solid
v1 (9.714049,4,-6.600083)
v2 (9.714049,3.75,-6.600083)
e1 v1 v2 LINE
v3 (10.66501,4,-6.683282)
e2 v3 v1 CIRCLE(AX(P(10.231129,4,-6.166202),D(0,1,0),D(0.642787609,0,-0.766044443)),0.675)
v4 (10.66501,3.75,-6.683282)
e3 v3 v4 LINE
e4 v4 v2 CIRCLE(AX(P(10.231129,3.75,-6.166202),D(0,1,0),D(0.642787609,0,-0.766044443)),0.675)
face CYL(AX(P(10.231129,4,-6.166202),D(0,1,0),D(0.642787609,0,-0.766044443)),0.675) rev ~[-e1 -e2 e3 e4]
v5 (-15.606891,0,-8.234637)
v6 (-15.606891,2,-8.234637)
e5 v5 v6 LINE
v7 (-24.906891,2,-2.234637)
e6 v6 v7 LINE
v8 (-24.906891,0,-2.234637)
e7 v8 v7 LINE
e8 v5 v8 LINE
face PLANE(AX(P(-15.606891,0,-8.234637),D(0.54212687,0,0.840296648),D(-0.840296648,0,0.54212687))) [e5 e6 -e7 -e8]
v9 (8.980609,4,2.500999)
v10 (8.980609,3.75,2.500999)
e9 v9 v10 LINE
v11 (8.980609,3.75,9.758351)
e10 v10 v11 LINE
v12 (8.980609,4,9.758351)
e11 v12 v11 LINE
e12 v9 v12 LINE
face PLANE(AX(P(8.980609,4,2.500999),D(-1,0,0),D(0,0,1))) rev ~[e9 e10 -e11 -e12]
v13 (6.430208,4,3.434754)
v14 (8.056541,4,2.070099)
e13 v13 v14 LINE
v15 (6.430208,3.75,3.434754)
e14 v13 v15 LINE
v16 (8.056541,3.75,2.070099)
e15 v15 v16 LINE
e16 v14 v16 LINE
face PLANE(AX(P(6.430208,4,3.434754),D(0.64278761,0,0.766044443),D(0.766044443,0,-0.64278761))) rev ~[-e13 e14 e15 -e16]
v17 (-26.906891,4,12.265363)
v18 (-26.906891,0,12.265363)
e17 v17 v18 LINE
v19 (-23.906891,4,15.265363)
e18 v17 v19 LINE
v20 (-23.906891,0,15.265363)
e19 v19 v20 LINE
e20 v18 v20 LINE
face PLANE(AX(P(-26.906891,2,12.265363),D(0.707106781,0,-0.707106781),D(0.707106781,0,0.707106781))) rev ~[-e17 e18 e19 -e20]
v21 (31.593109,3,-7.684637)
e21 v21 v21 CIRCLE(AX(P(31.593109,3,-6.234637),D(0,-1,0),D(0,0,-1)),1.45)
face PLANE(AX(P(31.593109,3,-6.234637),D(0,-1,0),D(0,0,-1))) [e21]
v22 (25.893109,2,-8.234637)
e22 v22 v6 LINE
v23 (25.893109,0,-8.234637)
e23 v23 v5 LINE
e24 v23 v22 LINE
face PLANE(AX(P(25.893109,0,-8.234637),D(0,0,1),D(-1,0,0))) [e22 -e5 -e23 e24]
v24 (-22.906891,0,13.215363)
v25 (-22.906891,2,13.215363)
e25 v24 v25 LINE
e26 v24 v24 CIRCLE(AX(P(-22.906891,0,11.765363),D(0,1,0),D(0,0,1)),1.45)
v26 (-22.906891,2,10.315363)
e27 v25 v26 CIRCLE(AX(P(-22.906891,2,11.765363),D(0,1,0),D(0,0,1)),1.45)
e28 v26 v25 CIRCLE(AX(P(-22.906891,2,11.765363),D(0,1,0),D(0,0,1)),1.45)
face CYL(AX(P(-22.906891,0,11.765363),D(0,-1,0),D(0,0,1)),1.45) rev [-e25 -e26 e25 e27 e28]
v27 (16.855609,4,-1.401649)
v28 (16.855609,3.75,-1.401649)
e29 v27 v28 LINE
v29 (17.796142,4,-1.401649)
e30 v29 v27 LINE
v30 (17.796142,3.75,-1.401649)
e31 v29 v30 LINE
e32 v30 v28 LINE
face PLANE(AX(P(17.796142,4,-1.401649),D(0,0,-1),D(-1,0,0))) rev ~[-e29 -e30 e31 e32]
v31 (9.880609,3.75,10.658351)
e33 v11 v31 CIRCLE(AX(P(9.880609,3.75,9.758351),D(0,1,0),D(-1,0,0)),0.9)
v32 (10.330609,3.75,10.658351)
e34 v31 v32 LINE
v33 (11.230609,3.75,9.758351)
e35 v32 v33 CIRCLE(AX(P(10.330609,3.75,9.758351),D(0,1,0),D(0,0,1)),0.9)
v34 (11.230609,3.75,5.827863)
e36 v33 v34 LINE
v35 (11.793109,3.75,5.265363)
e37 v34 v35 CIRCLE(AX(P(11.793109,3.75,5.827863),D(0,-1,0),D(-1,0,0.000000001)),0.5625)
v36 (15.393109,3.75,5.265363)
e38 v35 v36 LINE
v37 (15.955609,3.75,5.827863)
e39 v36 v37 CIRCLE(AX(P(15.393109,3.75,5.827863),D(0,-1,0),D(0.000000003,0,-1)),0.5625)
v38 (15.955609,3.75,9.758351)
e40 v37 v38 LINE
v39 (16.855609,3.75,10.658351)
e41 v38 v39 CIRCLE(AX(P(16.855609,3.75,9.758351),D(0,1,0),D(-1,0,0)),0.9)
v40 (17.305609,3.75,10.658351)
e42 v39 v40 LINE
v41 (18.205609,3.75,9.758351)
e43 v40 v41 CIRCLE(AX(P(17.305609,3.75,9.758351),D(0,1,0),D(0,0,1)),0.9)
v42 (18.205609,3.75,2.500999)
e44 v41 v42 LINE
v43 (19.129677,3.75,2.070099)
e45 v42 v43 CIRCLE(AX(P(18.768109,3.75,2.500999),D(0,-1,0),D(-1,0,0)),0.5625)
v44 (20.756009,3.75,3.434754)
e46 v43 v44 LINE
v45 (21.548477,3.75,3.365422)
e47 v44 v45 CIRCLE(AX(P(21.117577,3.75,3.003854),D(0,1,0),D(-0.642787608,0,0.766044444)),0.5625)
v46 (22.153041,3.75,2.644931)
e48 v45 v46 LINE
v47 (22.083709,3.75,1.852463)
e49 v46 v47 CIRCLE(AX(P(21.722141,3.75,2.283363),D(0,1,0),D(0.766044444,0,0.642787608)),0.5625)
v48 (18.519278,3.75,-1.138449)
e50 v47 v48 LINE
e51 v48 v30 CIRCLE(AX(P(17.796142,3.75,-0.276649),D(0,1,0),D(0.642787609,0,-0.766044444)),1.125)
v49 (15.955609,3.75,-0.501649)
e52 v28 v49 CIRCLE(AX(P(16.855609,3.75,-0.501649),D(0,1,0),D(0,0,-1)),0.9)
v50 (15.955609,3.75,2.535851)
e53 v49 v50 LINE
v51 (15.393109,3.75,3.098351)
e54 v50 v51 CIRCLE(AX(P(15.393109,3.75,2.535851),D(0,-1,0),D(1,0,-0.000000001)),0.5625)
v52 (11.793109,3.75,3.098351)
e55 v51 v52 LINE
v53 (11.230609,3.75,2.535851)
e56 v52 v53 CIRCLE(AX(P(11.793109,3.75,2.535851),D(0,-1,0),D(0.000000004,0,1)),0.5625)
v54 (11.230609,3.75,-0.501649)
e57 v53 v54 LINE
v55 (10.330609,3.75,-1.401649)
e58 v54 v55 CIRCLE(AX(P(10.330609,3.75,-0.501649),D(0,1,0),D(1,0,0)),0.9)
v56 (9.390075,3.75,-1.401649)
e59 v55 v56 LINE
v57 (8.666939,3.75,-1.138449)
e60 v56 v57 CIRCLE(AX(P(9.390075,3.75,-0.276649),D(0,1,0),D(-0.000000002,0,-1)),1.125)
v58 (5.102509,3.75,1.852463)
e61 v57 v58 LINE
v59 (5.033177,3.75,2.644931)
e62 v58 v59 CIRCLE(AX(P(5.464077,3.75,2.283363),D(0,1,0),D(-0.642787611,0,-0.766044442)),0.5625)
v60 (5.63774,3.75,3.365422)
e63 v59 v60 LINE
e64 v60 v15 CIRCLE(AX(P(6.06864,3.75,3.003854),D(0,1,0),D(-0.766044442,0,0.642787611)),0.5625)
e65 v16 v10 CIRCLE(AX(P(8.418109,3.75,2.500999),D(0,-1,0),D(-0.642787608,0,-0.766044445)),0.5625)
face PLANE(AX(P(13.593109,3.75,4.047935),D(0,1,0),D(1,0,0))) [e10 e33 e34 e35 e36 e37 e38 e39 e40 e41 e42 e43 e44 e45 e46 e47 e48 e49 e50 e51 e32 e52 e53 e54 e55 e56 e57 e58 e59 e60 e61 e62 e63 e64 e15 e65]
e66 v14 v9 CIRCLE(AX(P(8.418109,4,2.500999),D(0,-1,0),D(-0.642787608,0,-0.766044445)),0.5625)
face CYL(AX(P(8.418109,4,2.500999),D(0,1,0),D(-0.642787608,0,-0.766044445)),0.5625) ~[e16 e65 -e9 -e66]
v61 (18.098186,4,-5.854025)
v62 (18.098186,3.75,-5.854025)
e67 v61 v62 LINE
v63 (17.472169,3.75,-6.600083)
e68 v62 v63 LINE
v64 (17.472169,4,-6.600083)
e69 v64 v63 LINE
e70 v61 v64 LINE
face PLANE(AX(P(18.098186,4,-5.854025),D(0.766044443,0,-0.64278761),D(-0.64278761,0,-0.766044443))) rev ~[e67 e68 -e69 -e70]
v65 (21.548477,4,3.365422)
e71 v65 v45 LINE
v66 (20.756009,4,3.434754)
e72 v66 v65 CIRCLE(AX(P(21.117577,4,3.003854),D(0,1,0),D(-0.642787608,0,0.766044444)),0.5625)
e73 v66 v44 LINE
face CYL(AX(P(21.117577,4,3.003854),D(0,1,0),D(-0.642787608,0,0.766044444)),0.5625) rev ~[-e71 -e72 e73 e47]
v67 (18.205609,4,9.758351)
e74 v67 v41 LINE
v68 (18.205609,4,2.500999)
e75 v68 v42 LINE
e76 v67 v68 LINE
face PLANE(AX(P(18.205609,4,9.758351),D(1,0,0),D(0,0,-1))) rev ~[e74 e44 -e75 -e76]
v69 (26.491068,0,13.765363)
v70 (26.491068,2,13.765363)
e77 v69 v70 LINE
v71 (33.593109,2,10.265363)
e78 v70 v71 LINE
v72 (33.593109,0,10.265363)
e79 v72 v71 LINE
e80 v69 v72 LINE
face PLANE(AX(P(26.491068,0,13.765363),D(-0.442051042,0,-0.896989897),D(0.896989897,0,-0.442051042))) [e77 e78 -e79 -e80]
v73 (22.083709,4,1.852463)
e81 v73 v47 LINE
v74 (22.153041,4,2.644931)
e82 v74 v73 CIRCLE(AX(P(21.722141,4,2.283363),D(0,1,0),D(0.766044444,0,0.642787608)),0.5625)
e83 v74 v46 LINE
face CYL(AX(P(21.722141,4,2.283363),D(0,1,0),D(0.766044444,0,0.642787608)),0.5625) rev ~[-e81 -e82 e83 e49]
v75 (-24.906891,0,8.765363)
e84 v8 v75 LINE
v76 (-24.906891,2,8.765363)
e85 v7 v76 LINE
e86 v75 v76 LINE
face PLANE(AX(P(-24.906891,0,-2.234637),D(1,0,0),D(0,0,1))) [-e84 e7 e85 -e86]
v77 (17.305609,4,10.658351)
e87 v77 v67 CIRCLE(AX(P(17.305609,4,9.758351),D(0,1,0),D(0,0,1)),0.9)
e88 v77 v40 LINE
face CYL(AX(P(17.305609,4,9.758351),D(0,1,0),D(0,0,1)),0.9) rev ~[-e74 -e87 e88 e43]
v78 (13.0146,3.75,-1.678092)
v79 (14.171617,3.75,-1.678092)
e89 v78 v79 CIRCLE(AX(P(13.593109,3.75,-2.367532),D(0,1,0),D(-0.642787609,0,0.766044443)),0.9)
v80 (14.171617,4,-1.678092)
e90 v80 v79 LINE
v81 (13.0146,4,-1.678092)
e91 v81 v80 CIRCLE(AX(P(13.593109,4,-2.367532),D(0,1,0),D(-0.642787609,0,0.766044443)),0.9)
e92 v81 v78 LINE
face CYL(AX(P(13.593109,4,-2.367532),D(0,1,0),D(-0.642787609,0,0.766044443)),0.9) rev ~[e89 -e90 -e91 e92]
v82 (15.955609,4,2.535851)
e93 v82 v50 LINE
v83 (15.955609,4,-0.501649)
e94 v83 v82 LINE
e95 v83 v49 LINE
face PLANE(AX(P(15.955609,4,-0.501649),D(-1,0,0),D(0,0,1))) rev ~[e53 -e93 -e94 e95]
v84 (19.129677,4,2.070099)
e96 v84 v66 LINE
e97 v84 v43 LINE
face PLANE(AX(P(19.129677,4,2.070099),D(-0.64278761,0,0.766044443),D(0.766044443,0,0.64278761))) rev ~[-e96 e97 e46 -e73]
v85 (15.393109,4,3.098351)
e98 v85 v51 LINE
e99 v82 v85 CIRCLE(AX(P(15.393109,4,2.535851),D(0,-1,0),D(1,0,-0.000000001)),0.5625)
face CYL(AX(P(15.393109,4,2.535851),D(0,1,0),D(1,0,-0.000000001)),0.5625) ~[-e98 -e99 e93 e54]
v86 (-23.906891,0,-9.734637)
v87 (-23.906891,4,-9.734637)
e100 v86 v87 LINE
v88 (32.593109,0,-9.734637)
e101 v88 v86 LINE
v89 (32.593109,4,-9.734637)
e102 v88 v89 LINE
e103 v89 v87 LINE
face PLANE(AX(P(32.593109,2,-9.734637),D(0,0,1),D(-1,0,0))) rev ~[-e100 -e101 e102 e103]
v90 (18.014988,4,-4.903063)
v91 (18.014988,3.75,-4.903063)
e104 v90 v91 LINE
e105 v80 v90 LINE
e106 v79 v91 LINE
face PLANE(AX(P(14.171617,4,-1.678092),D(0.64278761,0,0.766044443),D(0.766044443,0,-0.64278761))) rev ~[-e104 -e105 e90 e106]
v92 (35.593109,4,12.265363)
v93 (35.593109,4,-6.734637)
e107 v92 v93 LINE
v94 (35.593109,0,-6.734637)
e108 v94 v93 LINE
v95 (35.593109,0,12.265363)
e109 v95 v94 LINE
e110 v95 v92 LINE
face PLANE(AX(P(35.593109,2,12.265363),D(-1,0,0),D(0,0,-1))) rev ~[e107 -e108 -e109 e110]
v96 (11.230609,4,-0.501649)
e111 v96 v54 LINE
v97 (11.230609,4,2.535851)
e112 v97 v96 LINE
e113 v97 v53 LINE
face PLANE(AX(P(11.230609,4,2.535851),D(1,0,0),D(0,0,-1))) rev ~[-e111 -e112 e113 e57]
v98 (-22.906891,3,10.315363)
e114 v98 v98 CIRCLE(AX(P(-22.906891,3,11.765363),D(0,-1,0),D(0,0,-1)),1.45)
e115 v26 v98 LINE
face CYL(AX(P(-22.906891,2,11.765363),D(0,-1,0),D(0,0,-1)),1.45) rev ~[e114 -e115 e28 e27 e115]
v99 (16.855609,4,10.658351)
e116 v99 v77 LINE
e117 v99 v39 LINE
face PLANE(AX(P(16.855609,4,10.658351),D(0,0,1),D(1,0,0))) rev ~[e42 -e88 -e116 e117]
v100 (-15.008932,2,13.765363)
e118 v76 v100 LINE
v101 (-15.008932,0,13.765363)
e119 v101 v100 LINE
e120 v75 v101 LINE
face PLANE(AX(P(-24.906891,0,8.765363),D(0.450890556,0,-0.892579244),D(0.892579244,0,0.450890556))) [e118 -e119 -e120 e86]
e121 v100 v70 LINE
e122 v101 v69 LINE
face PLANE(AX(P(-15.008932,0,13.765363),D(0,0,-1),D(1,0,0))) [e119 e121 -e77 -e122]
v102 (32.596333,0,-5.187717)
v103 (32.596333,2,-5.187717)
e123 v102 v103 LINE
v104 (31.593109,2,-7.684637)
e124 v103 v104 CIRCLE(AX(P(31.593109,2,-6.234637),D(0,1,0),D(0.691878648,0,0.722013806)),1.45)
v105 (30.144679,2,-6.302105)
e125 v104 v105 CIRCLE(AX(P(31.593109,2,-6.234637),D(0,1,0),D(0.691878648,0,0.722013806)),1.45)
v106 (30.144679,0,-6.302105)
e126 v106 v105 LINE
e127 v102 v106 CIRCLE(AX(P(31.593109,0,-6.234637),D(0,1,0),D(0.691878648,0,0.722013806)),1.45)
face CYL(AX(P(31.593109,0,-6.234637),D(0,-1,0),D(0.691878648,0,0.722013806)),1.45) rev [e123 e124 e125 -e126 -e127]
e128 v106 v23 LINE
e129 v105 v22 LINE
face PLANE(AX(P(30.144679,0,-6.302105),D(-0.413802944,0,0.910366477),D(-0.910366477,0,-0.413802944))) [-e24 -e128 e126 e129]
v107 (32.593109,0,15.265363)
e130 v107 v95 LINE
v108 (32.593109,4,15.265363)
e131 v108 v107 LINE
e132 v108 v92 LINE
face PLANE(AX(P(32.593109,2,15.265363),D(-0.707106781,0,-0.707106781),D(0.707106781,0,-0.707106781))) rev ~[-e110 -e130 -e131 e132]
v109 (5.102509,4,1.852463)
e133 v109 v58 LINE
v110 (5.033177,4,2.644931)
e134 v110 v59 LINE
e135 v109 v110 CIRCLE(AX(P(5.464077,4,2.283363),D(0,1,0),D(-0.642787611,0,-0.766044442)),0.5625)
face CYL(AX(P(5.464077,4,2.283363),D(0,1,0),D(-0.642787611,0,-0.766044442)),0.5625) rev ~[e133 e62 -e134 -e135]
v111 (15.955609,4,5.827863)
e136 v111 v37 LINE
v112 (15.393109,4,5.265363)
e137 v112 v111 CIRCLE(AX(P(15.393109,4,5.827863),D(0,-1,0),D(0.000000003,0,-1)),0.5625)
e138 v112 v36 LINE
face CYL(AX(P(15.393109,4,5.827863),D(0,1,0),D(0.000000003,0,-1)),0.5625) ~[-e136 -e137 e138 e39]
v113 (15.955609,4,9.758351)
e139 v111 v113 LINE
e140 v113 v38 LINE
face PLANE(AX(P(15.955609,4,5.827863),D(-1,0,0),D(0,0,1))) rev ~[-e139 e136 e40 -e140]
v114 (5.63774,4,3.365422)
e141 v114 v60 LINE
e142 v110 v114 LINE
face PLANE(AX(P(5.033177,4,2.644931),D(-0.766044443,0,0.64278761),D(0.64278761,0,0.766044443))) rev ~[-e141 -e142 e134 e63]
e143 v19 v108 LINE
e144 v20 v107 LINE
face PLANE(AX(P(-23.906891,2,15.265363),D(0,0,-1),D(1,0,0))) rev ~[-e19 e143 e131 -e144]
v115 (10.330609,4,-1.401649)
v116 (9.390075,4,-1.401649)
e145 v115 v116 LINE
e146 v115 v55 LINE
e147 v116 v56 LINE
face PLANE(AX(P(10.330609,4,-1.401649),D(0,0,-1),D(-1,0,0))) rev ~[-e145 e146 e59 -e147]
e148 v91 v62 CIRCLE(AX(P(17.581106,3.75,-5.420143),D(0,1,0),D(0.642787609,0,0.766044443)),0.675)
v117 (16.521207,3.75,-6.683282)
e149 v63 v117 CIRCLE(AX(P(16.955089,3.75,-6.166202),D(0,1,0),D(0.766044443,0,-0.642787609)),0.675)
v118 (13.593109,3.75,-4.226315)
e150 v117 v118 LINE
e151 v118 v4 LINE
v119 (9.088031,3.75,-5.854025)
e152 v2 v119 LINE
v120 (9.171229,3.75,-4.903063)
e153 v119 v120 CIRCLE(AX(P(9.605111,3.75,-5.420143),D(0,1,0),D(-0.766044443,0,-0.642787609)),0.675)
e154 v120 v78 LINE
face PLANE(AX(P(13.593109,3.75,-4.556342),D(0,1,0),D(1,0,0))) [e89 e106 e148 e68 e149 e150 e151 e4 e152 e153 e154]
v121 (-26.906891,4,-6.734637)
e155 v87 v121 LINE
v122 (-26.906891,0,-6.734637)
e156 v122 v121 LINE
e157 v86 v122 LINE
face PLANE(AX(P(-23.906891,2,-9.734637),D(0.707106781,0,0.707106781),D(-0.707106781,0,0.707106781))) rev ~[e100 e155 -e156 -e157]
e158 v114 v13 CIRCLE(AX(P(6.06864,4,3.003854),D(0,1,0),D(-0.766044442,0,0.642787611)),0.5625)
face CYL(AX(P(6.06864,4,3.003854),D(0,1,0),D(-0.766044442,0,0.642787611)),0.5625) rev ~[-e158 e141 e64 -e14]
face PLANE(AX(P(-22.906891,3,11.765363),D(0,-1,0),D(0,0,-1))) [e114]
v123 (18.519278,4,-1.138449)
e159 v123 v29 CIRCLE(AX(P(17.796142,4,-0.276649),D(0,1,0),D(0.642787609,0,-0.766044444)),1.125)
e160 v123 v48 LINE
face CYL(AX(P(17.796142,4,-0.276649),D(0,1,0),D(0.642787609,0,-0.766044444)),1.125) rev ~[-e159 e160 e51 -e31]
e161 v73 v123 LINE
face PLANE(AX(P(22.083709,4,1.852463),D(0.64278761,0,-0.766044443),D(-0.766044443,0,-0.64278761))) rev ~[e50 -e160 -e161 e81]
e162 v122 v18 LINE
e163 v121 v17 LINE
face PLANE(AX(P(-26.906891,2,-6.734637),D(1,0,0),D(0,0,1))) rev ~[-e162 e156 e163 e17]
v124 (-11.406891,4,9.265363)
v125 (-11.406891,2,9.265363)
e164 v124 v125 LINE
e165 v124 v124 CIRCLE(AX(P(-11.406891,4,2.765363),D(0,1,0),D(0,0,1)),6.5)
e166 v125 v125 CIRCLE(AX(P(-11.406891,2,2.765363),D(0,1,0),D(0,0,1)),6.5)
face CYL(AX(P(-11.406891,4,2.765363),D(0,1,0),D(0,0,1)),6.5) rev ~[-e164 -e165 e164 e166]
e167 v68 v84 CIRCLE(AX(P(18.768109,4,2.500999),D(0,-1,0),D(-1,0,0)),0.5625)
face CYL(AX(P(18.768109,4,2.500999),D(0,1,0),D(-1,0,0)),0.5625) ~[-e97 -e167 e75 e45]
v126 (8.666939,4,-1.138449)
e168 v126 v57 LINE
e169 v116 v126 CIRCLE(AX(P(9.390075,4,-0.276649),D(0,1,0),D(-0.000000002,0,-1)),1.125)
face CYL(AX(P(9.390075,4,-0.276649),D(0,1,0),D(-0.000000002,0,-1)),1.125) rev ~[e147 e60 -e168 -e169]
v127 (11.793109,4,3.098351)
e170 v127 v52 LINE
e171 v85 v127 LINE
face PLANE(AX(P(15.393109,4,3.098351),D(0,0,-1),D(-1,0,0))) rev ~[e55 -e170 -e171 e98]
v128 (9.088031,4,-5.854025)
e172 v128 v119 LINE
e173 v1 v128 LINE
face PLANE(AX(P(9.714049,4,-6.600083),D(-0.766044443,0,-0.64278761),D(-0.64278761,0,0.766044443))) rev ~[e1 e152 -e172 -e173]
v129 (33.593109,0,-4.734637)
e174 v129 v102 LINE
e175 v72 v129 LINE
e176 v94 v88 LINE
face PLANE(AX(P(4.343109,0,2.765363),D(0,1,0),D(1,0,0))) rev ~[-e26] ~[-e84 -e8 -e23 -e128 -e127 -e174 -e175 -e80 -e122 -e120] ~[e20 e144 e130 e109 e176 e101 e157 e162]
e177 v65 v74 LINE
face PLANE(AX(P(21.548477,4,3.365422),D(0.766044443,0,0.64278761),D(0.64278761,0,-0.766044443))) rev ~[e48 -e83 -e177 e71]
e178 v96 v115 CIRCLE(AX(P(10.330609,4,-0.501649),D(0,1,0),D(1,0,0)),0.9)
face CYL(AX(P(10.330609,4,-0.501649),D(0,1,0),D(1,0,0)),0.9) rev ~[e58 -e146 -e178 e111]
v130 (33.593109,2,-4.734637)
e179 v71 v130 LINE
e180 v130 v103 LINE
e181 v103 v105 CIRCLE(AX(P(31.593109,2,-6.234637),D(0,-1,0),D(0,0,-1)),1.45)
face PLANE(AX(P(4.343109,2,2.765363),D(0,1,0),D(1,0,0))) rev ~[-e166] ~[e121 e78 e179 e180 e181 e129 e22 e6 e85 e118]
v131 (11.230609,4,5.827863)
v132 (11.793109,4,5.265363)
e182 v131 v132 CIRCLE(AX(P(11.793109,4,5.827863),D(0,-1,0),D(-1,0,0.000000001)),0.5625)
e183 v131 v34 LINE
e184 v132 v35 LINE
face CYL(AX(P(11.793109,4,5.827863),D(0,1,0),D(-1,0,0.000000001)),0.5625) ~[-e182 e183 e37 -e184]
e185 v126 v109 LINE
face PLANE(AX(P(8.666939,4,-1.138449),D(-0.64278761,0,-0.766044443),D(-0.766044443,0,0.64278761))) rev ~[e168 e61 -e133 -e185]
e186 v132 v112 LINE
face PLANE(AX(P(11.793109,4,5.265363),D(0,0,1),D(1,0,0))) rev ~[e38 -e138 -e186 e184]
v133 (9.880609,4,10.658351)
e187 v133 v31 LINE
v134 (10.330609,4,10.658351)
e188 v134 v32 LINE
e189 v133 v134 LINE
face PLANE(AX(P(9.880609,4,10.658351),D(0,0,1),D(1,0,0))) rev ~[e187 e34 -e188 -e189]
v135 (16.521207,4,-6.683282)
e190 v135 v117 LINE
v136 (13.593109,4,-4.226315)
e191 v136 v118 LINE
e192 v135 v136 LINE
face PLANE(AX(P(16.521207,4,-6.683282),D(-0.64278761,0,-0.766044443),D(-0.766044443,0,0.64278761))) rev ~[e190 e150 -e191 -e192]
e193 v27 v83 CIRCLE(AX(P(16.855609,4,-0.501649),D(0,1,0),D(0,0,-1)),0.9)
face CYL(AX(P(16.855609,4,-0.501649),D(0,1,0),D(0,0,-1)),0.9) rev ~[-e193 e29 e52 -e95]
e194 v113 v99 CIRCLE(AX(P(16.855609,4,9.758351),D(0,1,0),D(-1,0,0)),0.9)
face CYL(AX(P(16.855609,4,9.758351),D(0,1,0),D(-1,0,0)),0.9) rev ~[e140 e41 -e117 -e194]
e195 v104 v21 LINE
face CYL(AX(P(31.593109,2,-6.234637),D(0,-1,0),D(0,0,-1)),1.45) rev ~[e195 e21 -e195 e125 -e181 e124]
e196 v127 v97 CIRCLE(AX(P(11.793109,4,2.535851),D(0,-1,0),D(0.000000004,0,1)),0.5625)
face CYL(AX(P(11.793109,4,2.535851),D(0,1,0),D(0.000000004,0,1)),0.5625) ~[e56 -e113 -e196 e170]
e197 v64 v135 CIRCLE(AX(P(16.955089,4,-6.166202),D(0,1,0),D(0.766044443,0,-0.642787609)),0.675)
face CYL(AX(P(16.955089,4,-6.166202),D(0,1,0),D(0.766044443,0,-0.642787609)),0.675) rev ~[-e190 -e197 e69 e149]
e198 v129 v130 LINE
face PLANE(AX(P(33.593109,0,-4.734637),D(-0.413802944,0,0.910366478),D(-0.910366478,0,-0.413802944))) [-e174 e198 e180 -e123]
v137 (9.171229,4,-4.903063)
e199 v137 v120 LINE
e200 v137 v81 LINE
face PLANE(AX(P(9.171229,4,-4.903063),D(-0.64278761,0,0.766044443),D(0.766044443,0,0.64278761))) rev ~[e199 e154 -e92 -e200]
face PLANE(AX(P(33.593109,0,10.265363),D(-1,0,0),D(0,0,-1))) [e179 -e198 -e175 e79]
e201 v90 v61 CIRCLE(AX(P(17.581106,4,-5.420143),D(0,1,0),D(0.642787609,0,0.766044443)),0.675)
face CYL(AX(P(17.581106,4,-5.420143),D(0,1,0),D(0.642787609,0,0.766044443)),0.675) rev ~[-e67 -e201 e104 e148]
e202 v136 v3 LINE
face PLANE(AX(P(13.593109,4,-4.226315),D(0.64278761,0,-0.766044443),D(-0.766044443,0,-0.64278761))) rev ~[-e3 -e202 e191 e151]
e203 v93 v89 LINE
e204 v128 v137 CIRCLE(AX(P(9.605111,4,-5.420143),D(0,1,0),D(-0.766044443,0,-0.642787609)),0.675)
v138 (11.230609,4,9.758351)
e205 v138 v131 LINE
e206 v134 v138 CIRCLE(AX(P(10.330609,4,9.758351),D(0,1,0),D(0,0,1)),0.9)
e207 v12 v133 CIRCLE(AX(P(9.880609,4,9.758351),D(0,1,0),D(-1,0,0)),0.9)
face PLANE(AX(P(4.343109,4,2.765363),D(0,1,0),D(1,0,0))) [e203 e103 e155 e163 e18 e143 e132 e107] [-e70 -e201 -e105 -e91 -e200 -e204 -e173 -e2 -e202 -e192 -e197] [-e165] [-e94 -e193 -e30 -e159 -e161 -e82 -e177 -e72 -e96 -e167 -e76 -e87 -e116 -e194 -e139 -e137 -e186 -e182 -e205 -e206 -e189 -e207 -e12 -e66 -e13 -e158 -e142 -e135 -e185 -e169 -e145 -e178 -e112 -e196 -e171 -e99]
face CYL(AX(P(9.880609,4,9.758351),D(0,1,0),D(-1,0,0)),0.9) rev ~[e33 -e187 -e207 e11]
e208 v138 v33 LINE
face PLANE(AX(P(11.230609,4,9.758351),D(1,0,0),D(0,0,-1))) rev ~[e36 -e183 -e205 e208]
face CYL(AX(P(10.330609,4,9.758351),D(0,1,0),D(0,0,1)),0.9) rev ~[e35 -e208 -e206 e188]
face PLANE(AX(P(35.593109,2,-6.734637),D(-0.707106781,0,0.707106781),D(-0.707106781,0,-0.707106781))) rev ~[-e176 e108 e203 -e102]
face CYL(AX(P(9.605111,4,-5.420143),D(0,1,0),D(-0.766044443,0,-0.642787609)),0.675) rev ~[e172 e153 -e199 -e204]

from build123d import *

# Parameters (mm, degrees)
SKETCH_1_R          = 1.45
EXTRUDE_1_DEPTH     = 2
EXTRUDE_2_DEPTH     = 2
SKETCH_3_R          = 6.5
CUT_EXTRUDE_1_DEPTH = 2
SKETCH_4_R          = 1.45
CUT_EXTRUDE_2_DEPTH = 1
CUT_EXTRUDE_3_DEPTH = 0.25


with BuildPart() as part:
    # Эскиз1 → Бобышка-Вытянуть1 (new body)
    with BuildSketch(Plane(origin=(0, 0, 0), x_dir=(1, 0, 0), z_dir=(0, 1, 0))):
        Polygon((35.593108597, -12.265362584), (35.593108597, 6.734637416), (32.593108597, 9.734637416), (-23.906891403, 9.734637416), (-26.906891403, 6.734637416), (-26.906891403, -12.265362584), (-23.906891403, -15.265362584), (32.593108597, -15.265362584), align=None)
        with Locations(Location((-22.906891403, -11.765362584, 0), (0, 0, 270))):
            Circle(SKETCH_1_R, mode=Mode.SUBTRACT)
        with BuildLine():
            Line((25.893108597, 8.234637416), (-15.606891403, 8.234637416))
            Line((-15.606891403, 8.234637416), (-24.906891403, 2.234637416))
            Line((-24.906891403, 2.234637416), (-24.906891403, -8.765362584))
            Line((-24.906891403, -8.765362584), (-15.008932433, -13.765362584))
            Line((-15.008932433, -13.765362584), (26.491067567, -13.765362584))
            Line((26.491067567, -13.765362584), (33.593108597, -10.265362584))
            Line((33.593108597, -10.265362584), (33.593108597, 4.734637416))
            Line((33.593108597, 4.734637416), (32.596332637, 5.187717397))
            ThreePointArc((32.596332637, 5.187717397), (32.193122866, 7.554668808), (30.144679077, 6.302105379))
            Line((30.144679077, 6.302105379), (25.893108597, 8.234637416))
        make_face(mode=Mode.SUBTRACT)
    extrude(amount=EXTRUDE_1_DEPTH)

    # Эскиз2 → Бобышка-Вытянуть2 (add)
    with BuildSketch(Plane(origin=(0, 2, 0), x_dir=(1, 0, 0), z_dir=(0, 1, 0))):
        Polygon((32.593108597, -15.265362584), (35.593108597, -12.265362584), (35.593108597, 6.734637416), (32.593108597, 9.734637416), (-23.906891403, 9.734637416), (-26.906891403, 6.734637416), (-26.906891403, -12.265362584), (-23.906891403, -15.265362584), align=None)
    extrude(amount=EXTRUDE_2_DEPTH)

    # Эскиз3 → Вырез-Вытянуть1 (cut)
    with BuildSketch(Plane(origin=(0, 4, 0), x_dir=(1, 0, 0), z_dir=(0, 1, 0))):
        with Locations(Location((-11.406891403, -2.765362584, 0), (0, 0, 270))):
            Circle(SKETCH_3_R)
    extrude(amount=-CUT_EXTRUDE_1_DEPTH, mode=Mode.SUBTRACT)

    # Эскиз4 → Вырез-Вытянуть2 (cut)
    with BuildSketch(Plane.XZ.offset(-2)):
        with Locations(Location((31.593108597, -6.234637416, 0), (0, 0, 270))):
            Circle(SKETCH_4_R)
        with Locations(Location((-22.906891403, 11.765362584, 0), (0, 0, 270))):
            Circle(SKETCH_4_R)
    extrude(amount=-CUT_EXTRUDE_2_DEPTH, mode=Mode.SUBTRACT)

    # Эскиз5 → Вырез-Вытянуть3 (cut)
    with BuildSketch(Plane(origin=(0, 4, 0), x_dir=(1, 0, 0), z_dir=(0, 1, 0))):
        with BuildLine():
            Line((8.980608597, -2.500998747), (8.980608597, -9.758351134))
            ThreePointArc((8.980608597, -9.758351134), (9.244212494, -10.394747237), (9.880608597, -10.658351134))
            Line((9.880608597, -10.658351134), (10.330608597, -10.658351134))
            ThreePointArc((10.330608597, -10.658351134), (10.9670047, -10.394747237), (11.230608597, -9.758351134))
            Line((11.230608597, -9.758351134), (11.230608597, -5.827862584))
            ThreePointArc((11.230608597, -5.827862584), (11.395361032, -5.43011502), (11.793108597, -5.265362584))
            Line((11.793108597, -5.265362584), (15.393108597, -5.265362584))
            ThreePointArc((15.393108597, -5.265362584), (15.790856161, -5.43011502), (15.955608597, -5.827862584))
            Line((15.955608597, -5.827862584), (15.955608597, -9.758351134))
            ThreePointArc((15.955608597, -9.758351134), (16.219212494, -10.394747237), (16.855608597, -10.658351134))
            Line((16.855608597, -10.658351134), (17.305608597, -10.658351134))
            ThreePointArc((17.305608597, -10.658351134), (17.9420047, -10.394747237), (18.205608597, -9.758351134))
            Line((18.205608597, -9.758351134), (18.205608597, -2.500998747))
            ThreePointArc((18.205608597, -2.500998747), (18.530385824, -1.991200617), (19.129676627, -2.070098747))
            Line((19.129676627, -2.070098747), (20.756009257, -3.434753858))
            ThreePointArc((20.756009257, -3.434753858), (21.166602393, -3.564213376), (21.548477287, -3.365421889))
            Line((21.548477287, -3.365421889), (22.153040559, -2.644931438))
            ThreePointArc((22.153040559, -2.644931438), (22.282500077, -2.234338302), (22.08370859, -1.852463408))
            Line((22.08370859, -1.852463408), (18.519278144, 1.138448864))
            ThreePointArc((18.519278144, 1.138448864), (18.180914744, 1.333803064), (17.796142083, 1.401648866))
            Line((17.796142083, 1.401648866), (16.855608597, 1.401648866))
            ThreePointArc((16.855608597, 1.401648866), (16.219212494, 1.138044969), (15.955608597, 0.501648866))
            Line((15.955608597, 0.501648866), (15.955608597, -2.535851134))
            ThreePointArc((15.955608597, -2.535851134), (15.790856161, -2.933598699), (15.393108597, -3.098351134))
            Line((15.393108597, -3.098351134), (11.793108597, -3.098351134))
            ThreePointArc((11.793108597, -3.098351134), (11.395361032, -2.933598699), (11.230608597, -2.535851134))
            Line((11.230608597, -2.535851134), (11.230608597, 0.501648866))
            ThreePointArc((11.230608597, 0.501648866), (10.9670047, 1.138044969), (10.330608597, 1.401648866))
            Line((10.330608597, 1.401648866), (9.39007511, 1.401648866))
            ThreePointArc((9.39007511, 1.401648866), (9.005302449, 1.333803064), (8.666939049, 1.138448864))
            Line((8.666939049, 1.138448864), (5.102508603, -1.852463408))
            ThreePointArc((5.102508603, -1.852463408), (4.903717116, -2.234338302), (5.033176634, -2.644931438))
            Line((5.033176634, -2.644931438), (5.637739906, -3.365421889))
            ThreePointArc((5.637739906, -3.365421889), (6.0196148, -3.564213376), (6.430207936, -3.434753858))
            Line((6.430207936, -3.434753858), (8.056540566, -2.070098747))
            ThreePointArc((8.056540566, -2.070098747), (8.655831369, -1.991200617), (8.980608597, -2.500998747))
        make_face()
        with BuildLine():
            Line((13.593108597, 4.226315266), (10.66501019, 6.683281559))
            ThreePointArc((10.66501019, 6.683281559), (10.172298427, 6.838632981), (9.714048554, 6.600083196))
            Line((9.714048554, 6.600083196), (9.08803108, 5.854024623))
            ThreePointArc((9.08803108, 5.854024623), (8.932679658, 5.36131286), (9.171229443, 4.903062987))
            Line((9.171229443, 4.903062987), (13.014599748, 1.678092382))
            ThreePointArc((13.014599748, 1.678092382), (13.593108597, 1.467532381), (14.171617445, 1.678092382))
            Line((14.171617445, 1.678092382), (18.01498775, 4.903062987))
            ThreePointArc((18.01498775, 4.903062987), (18.253537535, 5.36131286), (18.098186113, 5.854024623))
            Line((18.098186113, 5.854024623), (17.472168639, 6.600083196))
            ThreePointArc((17.472168639, 6.600083196), (17.013918766, 6.838632981), (16.521207003, 6.683281559))
            Line((16.521207003, 6.683281559), (13.593108597, 4.226315266))
        make_face()
    extrude(amount=-CUT_EXTRUDE_3_DEPTH, mode=Mode.SUBTRACT)


solid = part.part
